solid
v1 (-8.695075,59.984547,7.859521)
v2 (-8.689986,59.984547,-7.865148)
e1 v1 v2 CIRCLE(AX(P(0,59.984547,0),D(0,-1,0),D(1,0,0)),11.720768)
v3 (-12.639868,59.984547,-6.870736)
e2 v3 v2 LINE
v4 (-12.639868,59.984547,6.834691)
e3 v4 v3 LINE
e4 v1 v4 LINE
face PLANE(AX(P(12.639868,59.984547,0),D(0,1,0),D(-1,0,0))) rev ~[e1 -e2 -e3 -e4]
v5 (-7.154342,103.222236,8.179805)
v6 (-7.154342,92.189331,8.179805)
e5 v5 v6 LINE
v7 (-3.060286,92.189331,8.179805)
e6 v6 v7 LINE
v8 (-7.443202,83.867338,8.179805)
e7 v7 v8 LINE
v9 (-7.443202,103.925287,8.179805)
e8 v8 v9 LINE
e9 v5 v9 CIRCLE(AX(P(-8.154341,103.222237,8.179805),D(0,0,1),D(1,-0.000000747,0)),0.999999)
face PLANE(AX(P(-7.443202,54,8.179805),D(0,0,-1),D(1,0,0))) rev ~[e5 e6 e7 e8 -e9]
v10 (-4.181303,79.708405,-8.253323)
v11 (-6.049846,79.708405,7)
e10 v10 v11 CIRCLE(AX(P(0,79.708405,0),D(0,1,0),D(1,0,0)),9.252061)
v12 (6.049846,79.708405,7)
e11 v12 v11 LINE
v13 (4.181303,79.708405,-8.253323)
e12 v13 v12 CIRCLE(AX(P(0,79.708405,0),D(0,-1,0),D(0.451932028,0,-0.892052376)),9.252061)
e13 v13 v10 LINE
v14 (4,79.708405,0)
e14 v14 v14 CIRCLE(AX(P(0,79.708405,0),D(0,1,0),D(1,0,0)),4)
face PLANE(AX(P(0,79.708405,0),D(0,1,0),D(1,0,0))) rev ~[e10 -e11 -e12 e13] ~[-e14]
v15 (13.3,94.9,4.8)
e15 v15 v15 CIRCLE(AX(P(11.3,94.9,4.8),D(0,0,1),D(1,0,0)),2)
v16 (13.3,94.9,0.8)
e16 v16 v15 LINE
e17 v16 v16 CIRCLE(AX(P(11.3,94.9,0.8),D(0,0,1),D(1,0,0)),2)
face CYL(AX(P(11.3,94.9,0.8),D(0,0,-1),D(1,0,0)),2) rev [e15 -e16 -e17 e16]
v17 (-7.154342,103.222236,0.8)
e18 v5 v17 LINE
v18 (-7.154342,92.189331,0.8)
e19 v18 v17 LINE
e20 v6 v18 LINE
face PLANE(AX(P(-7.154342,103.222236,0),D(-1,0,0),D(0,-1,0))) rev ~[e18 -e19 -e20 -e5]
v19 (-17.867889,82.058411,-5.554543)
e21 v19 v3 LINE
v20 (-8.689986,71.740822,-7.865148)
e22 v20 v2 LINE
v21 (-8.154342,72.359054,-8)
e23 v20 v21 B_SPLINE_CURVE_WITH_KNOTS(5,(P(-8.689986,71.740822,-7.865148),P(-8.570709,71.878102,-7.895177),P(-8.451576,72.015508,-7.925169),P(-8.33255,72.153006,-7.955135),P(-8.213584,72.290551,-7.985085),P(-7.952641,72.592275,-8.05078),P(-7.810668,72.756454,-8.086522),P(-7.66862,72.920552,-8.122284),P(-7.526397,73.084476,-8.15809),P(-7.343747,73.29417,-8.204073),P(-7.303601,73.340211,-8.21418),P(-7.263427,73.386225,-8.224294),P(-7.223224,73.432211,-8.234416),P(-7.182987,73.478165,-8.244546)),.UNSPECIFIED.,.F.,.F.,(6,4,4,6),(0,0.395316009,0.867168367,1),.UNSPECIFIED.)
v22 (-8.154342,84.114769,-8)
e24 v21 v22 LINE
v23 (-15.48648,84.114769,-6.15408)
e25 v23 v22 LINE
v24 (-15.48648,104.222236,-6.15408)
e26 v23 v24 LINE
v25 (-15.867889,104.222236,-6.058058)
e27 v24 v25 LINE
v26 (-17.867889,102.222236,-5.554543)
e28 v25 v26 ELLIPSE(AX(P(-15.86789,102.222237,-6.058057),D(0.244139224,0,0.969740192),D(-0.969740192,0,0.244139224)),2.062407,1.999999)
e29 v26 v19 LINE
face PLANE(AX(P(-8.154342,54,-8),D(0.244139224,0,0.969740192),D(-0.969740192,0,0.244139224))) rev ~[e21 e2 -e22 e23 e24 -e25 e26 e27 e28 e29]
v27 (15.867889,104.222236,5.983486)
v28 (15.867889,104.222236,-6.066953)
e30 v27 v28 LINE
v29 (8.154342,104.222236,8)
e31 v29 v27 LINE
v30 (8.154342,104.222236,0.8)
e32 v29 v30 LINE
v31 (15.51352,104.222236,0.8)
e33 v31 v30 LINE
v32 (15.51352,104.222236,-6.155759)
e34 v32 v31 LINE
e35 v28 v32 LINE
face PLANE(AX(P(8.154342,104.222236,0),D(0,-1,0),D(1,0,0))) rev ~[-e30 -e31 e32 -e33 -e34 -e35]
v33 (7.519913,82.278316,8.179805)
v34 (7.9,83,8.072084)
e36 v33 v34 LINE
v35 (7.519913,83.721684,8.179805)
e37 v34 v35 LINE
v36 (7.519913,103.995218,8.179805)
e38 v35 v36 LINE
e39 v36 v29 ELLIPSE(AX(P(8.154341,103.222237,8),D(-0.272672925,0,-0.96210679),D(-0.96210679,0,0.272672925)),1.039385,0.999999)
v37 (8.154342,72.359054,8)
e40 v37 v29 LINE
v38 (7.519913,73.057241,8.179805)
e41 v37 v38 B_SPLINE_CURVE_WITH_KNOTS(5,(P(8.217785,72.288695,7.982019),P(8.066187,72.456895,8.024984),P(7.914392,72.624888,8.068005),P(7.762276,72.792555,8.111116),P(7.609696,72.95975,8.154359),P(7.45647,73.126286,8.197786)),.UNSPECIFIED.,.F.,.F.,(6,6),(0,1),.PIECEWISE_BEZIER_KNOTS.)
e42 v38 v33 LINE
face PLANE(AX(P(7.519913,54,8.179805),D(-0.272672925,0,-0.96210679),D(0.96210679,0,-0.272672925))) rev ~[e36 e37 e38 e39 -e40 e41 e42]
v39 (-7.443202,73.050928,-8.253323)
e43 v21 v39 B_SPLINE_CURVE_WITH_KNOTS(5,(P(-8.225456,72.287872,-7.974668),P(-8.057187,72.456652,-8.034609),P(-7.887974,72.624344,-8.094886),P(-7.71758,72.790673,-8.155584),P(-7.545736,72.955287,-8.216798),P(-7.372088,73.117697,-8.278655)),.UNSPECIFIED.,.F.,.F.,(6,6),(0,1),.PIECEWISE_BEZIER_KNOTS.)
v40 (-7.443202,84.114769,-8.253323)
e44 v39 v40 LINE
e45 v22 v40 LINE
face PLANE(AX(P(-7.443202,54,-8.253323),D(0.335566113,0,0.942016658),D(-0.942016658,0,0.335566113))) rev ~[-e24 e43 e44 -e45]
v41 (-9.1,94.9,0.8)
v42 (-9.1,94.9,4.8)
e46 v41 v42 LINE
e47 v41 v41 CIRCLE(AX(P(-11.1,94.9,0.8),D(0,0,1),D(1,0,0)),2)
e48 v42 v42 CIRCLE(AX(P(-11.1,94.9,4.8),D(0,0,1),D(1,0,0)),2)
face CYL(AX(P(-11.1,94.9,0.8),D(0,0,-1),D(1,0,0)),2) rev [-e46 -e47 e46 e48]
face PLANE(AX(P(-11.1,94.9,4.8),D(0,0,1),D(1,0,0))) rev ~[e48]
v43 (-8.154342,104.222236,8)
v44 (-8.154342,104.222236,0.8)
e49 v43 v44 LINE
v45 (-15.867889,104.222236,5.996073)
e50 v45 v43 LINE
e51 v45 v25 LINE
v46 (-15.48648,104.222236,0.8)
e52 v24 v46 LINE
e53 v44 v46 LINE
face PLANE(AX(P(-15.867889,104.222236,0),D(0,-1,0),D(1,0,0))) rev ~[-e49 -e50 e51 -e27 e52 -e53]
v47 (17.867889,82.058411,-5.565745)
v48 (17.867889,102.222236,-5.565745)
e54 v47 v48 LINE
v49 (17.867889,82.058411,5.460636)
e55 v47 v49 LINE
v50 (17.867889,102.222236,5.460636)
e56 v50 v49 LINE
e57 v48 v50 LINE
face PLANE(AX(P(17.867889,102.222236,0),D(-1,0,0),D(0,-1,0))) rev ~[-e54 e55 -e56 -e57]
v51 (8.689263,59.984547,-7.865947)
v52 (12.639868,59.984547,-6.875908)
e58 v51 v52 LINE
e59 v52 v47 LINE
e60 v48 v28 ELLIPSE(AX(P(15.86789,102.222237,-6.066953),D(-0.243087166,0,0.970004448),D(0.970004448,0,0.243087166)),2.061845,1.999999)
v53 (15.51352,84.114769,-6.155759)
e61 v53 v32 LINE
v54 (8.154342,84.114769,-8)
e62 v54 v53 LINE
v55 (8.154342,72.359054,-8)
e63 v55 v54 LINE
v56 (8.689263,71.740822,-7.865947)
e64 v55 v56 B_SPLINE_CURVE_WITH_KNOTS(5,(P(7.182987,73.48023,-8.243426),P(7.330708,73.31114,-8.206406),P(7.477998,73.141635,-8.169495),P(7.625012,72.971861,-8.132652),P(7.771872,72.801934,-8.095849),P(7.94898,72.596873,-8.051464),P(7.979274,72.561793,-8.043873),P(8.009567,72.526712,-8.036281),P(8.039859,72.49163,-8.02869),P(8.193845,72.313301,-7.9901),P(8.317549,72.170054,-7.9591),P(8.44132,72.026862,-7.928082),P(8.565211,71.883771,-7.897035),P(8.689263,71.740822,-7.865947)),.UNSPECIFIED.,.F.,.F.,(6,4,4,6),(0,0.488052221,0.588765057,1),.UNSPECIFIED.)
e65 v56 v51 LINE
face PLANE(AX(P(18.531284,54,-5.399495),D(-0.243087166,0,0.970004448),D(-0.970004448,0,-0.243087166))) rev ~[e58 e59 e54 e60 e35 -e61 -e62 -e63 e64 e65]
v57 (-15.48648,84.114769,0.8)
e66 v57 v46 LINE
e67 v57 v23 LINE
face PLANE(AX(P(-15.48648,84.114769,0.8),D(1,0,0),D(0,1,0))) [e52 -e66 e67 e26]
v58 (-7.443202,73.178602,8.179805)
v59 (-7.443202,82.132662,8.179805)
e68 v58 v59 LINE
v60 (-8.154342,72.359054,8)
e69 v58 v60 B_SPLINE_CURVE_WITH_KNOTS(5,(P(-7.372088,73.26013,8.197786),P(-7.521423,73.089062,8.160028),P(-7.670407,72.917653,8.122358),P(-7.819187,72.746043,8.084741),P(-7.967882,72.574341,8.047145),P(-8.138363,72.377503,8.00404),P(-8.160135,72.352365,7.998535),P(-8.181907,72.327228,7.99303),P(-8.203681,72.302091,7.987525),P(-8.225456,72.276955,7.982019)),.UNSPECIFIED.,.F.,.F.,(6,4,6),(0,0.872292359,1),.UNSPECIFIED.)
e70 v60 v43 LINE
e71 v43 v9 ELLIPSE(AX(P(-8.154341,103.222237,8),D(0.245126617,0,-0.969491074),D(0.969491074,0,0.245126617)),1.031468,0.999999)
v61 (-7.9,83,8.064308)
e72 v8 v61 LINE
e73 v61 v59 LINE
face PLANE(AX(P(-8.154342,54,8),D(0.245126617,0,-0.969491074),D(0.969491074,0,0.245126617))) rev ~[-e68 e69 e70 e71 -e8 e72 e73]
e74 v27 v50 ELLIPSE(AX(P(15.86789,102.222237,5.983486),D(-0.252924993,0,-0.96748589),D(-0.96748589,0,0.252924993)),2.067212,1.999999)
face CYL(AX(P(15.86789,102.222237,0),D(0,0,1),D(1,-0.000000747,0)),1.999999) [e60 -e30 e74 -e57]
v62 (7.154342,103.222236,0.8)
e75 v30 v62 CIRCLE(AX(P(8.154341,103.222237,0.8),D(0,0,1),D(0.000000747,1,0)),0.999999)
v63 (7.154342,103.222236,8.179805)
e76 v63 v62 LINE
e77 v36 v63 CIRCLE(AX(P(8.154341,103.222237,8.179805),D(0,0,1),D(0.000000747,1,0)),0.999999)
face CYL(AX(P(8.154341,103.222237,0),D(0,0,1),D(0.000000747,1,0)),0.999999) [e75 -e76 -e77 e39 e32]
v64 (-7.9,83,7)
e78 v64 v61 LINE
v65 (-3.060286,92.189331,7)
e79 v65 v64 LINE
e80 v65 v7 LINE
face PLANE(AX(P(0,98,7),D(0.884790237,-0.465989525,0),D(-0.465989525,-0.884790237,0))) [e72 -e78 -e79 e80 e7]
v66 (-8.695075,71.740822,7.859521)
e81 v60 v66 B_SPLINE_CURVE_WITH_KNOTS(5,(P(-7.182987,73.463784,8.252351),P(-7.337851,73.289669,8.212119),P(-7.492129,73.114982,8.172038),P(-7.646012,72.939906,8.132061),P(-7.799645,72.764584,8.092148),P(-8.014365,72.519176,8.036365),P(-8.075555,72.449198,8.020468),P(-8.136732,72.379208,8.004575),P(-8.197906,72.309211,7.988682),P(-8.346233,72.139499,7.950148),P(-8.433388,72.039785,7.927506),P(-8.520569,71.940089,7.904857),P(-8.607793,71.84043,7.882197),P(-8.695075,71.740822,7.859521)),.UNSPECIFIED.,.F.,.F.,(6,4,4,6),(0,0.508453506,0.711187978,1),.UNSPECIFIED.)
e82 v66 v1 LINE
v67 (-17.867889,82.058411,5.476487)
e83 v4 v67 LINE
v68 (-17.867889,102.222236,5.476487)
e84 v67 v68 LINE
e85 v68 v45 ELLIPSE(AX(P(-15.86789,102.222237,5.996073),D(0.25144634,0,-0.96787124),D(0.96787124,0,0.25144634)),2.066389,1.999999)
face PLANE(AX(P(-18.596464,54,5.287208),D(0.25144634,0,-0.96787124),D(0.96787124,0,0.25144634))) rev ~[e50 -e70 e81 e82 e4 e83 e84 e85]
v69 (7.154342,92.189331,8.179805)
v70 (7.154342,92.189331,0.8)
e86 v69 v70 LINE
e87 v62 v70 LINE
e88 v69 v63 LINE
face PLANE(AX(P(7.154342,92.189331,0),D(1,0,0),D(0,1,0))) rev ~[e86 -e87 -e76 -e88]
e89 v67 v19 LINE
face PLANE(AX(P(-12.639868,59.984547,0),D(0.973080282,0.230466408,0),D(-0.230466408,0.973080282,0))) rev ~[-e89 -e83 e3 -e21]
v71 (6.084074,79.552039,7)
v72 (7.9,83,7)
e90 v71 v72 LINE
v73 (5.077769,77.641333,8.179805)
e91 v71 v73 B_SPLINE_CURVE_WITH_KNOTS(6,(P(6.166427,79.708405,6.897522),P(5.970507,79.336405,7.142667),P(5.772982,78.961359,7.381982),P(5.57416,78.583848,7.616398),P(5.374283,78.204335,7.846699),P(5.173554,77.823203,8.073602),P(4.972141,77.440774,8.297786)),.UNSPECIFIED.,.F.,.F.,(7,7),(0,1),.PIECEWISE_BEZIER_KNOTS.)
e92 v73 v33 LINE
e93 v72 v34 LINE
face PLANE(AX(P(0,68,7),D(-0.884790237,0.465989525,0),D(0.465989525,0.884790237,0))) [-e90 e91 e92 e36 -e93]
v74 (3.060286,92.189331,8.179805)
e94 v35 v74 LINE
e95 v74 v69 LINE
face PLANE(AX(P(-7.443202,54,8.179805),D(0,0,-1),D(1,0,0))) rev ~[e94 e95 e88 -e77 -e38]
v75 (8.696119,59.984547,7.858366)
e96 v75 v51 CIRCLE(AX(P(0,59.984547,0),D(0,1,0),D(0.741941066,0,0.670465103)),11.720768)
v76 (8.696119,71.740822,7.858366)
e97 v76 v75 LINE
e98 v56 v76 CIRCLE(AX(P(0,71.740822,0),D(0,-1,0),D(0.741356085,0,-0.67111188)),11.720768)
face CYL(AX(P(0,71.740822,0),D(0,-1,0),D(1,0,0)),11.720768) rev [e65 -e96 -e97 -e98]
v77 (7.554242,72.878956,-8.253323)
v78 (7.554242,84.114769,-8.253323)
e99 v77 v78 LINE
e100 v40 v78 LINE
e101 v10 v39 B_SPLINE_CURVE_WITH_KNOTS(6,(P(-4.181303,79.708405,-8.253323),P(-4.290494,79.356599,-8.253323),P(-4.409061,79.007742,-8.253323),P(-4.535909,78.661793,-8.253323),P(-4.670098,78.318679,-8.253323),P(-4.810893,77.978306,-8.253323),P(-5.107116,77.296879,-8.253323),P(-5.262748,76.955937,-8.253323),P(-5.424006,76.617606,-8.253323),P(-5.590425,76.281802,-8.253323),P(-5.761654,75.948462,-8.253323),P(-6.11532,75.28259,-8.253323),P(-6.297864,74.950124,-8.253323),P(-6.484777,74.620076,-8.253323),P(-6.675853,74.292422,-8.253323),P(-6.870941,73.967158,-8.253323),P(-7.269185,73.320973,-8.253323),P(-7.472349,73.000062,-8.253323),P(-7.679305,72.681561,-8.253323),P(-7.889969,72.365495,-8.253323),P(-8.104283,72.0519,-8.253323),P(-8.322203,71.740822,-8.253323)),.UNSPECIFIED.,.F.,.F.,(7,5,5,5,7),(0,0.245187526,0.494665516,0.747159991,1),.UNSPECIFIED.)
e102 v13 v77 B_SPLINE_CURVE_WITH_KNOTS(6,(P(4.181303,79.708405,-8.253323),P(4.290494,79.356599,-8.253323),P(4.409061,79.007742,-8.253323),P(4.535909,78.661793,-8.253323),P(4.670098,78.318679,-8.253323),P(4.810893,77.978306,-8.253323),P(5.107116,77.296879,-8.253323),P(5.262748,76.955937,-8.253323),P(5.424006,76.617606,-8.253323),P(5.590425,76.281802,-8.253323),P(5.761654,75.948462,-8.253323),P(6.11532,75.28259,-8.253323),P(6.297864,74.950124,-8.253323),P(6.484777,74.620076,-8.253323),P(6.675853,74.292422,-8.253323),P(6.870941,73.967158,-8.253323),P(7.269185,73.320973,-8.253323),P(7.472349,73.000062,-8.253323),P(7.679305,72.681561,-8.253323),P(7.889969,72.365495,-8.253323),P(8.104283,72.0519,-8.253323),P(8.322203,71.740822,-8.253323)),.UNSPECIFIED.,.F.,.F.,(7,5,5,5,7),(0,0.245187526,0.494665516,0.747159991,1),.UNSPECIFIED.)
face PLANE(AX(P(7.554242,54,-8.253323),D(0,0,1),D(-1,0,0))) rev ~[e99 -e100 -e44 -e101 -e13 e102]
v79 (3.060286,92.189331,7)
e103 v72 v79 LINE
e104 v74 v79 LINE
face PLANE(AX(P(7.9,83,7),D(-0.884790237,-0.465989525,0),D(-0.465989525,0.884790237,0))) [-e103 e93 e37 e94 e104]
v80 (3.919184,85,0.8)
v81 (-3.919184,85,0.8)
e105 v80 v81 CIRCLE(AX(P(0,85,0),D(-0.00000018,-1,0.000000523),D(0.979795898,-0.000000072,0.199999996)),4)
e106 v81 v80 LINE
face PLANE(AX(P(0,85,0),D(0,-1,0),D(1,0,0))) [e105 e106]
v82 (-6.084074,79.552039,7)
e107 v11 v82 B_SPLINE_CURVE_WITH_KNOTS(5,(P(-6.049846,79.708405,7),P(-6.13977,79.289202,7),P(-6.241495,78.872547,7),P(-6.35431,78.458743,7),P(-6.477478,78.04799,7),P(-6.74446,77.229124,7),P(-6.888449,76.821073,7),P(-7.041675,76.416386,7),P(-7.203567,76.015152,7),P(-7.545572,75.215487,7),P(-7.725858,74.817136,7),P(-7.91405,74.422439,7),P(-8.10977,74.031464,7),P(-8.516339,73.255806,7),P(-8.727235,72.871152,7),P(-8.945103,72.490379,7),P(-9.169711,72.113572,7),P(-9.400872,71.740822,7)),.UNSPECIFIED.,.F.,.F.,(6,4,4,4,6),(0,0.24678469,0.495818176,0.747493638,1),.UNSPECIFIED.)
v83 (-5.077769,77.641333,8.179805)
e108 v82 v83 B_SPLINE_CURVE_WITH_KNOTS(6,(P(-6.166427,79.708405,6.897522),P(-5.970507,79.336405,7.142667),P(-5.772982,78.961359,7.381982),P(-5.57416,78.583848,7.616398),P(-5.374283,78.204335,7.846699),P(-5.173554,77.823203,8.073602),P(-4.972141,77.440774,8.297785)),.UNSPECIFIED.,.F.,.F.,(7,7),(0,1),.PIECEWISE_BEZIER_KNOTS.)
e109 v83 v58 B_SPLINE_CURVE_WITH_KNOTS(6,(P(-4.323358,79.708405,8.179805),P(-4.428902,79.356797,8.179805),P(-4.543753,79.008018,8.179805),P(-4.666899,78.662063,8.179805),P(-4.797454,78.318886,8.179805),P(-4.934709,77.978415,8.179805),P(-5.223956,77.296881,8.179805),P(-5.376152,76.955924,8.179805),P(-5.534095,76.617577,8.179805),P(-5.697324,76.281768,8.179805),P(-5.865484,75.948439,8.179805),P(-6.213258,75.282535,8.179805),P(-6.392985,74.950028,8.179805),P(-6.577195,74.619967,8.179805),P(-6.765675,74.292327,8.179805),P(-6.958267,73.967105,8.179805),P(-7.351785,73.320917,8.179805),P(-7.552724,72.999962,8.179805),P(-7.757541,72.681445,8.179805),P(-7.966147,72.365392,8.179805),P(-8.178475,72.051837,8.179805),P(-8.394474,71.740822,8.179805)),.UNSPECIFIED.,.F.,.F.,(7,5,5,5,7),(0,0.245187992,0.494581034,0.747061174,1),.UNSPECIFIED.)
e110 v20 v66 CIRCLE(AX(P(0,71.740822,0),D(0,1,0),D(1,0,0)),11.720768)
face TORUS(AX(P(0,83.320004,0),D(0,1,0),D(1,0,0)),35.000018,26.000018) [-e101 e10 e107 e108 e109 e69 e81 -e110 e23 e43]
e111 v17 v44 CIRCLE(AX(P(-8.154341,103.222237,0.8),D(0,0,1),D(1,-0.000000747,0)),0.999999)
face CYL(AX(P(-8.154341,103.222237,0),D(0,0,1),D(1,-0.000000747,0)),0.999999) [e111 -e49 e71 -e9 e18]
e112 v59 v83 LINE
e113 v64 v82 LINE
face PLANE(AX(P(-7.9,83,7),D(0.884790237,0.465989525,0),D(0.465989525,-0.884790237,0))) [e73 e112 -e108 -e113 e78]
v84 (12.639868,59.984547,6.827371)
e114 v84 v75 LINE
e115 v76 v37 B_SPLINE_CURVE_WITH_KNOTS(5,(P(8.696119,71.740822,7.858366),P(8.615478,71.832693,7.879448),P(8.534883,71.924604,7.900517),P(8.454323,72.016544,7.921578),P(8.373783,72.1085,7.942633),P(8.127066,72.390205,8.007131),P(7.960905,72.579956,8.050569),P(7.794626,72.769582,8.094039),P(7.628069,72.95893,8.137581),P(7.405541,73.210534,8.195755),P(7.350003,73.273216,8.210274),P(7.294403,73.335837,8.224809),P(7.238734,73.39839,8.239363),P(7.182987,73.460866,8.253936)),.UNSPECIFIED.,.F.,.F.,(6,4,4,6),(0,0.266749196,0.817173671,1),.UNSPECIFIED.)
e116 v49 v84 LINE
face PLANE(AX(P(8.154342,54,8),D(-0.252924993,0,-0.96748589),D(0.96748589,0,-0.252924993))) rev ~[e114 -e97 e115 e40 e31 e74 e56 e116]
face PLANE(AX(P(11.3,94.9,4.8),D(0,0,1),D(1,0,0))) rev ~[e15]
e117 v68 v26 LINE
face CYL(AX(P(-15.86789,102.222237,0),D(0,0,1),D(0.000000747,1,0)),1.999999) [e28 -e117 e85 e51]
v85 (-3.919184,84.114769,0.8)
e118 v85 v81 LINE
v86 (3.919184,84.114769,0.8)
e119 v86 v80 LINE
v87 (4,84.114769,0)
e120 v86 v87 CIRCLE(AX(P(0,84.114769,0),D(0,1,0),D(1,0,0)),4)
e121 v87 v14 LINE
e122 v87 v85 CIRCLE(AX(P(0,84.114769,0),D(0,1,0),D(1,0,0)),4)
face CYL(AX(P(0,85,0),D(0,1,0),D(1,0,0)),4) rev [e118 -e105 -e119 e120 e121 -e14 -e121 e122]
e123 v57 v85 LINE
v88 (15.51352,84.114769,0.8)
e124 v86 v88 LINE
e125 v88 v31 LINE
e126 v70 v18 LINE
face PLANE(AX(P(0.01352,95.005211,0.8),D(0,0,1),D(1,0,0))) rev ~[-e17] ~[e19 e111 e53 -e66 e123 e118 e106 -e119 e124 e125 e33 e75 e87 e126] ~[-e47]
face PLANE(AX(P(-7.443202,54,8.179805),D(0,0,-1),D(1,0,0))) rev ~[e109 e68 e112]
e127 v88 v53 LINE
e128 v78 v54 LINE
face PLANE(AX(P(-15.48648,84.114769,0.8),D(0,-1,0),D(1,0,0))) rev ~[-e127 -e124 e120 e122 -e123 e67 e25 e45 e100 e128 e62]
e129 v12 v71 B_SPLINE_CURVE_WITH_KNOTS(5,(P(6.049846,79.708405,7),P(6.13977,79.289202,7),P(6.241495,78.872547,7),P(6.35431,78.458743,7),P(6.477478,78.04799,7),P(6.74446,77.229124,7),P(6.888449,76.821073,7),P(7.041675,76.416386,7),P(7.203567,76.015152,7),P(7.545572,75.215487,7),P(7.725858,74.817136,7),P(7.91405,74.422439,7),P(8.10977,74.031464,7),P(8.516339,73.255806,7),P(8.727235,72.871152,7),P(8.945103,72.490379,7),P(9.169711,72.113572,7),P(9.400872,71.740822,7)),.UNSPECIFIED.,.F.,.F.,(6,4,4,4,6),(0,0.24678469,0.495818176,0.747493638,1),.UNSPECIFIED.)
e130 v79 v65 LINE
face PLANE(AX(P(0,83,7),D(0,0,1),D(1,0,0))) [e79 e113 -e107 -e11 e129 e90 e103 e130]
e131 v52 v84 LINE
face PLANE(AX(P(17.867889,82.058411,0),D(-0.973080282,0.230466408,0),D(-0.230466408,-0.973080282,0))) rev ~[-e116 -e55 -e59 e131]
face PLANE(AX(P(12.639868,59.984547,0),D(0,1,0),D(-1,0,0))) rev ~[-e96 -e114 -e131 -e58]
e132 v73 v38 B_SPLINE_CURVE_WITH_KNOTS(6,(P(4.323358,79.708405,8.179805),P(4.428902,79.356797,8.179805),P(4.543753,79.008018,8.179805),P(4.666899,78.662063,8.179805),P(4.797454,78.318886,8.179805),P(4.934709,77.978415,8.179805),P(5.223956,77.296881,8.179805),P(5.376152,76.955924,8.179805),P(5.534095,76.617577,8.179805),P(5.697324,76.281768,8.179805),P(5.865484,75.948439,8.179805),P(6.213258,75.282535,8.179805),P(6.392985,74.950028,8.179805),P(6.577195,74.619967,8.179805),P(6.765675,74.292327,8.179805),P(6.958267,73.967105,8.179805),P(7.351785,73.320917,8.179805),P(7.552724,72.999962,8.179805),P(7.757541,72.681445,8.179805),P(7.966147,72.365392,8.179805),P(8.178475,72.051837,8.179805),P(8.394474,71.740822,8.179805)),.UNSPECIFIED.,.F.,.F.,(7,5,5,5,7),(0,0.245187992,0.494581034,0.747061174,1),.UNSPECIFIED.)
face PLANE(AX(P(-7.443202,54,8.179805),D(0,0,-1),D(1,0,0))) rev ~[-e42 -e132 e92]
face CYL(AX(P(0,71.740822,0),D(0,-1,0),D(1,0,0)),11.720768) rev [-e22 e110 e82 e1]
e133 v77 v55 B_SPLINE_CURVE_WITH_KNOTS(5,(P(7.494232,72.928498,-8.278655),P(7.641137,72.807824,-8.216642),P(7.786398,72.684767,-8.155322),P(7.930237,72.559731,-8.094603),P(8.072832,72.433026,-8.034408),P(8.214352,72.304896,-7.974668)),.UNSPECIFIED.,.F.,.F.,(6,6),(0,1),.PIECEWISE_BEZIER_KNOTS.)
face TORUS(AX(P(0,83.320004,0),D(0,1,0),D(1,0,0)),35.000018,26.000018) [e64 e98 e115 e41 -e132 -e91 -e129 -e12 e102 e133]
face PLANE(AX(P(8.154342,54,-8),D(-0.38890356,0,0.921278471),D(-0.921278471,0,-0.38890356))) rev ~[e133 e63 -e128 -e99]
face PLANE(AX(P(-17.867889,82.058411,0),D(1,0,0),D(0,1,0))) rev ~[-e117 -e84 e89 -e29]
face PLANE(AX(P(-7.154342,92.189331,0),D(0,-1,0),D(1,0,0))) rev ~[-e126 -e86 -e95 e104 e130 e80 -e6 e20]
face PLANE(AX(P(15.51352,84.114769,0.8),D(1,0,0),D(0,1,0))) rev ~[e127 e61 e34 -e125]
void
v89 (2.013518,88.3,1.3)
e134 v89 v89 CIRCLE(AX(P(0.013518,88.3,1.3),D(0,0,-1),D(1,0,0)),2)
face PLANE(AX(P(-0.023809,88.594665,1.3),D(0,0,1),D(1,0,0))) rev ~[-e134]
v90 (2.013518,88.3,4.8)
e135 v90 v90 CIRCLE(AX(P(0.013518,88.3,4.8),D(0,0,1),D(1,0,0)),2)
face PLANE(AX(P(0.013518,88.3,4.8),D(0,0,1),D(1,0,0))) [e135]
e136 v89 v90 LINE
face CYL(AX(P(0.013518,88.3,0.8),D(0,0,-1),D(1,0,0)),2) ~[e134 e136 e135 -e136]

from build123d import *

# Parameters (mm, degrees)
PAD_DEPTH       = 12
POCKET_DEPTH    = 62
SKETCH019_W     = 31
SKETCH019_H     = 21.780884
POCKET002_DEPTH = 17
SKETCH020_R     = 2
POCKET003_DEPTH = 4
CYLINDER_R      = 4
CYLINDER_DEPTH  = 28
POCKET032_DEPTH = 5
SKETCH084_W     = 7.885986
SKETCH084_H     = 7.189331
PAD020_DEPTH    = 0.5


with BuildPart() as part:
    # Sketch010 → Pad (new body, symmetric)
    with BuildSketch(Plane.XY):
        with BuildLine():
            Line((12.639868, 59.984547), (-12.639868, 59.984547))
            Line((-12.639868, 59.984547), (-17.867889, 82.058411))
            Line((-17.867889, 82.058411), (-17.867889, 102.222236))
            ThreePointArc((-15.867889, 104.222236), (-17.282103, 103.63645), (-17.867889, 102.222236))
            Line((-15.867889, 104.222236), (-8.154342, 104.222236))
            ThreePointArc((-7.154342, 103.222236), (-7.447235, 103.929343), (-8.154342, 104.222236))
            Line((-7.154342, 103.222236), (-7.154342, 92.189331))
            Line((-7.154342, 92.189331), (7.154342, 92.189331))
            Line((7.154342, 92.189331), (7.154342, 103.222236))
            ThreePointArc((8.154342, 104.222236), (7.447235, 103.929343), (7.154342, 103.222236))
            Line((8.154342, 104.222236), (15.867889, 104.222236))
            ThreePointArc((17.867889, 102.222236), (17.282103, 103.63645), (15.867889, 104.222236))
            Line((17.867889, 102.222236), (17.867889, 82.058411))
            Line((17.867889, 82.058411), (12.639868, 59.984547))
        make_face()
    extrude(amount=PAD_DEPTH, both=True)

    # Sketch011 → Pocket (cut)
    with BuildSketch(Plane.XZ.offset(-54)):
        Polygon((0, 13.813917), (-22.117895, 13.813917), (-22.117895, -0.189388), (-22.117895, -17.743416), (0, -17.743416), (22.658901, -17.743416), (22.658901, -0.111897), (22.658901, 13.813917), align=None)
        Polygon((-18.596464, 0), (-18.596464, 5.287208), (-8.154342, 8), (-7.443202, 8.179805), (0, 8.179805), (7.519913, 8.179805), (8.154342, 8), (18.531284, 5.287208), (18.531284, -0.112287), (18.531284, -5.399495), (8.154342, -8), (7.554242, -8.253323), (0.11104, -8.253323), (-7.443202, -8.253323), (-8.154342, -8), (-18.596464, -5.371119), align=None, mode=Mode.SUBTRACT)
    extrude(amount=-POCKET_DEPTH, mode=Mode.SUBTRACT)

    # Sketch019 → Pocket002 (cut)
    with BuildSketch(Plane.XY.offset(0.8)):
        with Locations((0.01352, 95.005211)):
            Rectangle(SKETCH019_W, SKETCH019_H)
    extrude(amount=-POCKET002_DEPTH, mode=Mode.SUBTRACT)

    # Sketch020 → Pocket003 (cut)
    with BuildSketch(Plane.XY.offset(0.8)):
        with Locations((-11.1, 94.9)):
            Circle(SKETCH020_R)
        with Locations((11.3, 94.9)):
            Circle(SKETCH020_R)
        with Locations((0.013518, 88.3)):
            Circle(SKETCH020_R)
    extrude(amount=POCKET003_DEPTH, mode=Mode.SUBTRACT)

    # Cylinder → Cylinder (cut)
    with BuildSketch(Plane.XZ.offset(-85)):
        Circle(CYLINDER_R)
    extrude(amount=CYLINDER_DEPTH, mode=Mode.SUBTRACT)

    # Sketch067 → Pocket032 (cut)
    with BuildSketch(Plane.XY.offset(7)):
        Polygon((-7.9, 83), (0, 68), (7.9, 83), (0, 98), align=None)
    extrude(amount=POCKET032_DEPTH, mode=Mode.SUBTRACT)

    # Sketch084 → Pad020 (join)
    with BuildSketch(Plane.XY.offset(0.8)):
        with Locations((-0.023809, 88.594665)):
            Rectangle(SKETCH084_W, SKETCH084_H)
    extrude(amount=PAD020_DEPTH)

    # Sketch085 → Groove (revolve, cut)
    with BuildSketch(Plane.XY):
        with BuildLine():
            ThreePointArc((9.252061, 79.708405), (10.164814, 75.624968), (11.720768, 71.740822))
            Line((11.720768, 71.740822), (11.720768, 58.4589))
            Line((11.720768, 58.4589), (0, 58.4589))
            Line((0, 58.4589), (0, 79.708405))
            Line((9.252061, 79.708405), (0, 79.708405))
        make_face()
    revolve(axis=Axis((0, 0, 0), (0, 1, 0)), mode=Mode.SUBTRACT)


solid = part.part
